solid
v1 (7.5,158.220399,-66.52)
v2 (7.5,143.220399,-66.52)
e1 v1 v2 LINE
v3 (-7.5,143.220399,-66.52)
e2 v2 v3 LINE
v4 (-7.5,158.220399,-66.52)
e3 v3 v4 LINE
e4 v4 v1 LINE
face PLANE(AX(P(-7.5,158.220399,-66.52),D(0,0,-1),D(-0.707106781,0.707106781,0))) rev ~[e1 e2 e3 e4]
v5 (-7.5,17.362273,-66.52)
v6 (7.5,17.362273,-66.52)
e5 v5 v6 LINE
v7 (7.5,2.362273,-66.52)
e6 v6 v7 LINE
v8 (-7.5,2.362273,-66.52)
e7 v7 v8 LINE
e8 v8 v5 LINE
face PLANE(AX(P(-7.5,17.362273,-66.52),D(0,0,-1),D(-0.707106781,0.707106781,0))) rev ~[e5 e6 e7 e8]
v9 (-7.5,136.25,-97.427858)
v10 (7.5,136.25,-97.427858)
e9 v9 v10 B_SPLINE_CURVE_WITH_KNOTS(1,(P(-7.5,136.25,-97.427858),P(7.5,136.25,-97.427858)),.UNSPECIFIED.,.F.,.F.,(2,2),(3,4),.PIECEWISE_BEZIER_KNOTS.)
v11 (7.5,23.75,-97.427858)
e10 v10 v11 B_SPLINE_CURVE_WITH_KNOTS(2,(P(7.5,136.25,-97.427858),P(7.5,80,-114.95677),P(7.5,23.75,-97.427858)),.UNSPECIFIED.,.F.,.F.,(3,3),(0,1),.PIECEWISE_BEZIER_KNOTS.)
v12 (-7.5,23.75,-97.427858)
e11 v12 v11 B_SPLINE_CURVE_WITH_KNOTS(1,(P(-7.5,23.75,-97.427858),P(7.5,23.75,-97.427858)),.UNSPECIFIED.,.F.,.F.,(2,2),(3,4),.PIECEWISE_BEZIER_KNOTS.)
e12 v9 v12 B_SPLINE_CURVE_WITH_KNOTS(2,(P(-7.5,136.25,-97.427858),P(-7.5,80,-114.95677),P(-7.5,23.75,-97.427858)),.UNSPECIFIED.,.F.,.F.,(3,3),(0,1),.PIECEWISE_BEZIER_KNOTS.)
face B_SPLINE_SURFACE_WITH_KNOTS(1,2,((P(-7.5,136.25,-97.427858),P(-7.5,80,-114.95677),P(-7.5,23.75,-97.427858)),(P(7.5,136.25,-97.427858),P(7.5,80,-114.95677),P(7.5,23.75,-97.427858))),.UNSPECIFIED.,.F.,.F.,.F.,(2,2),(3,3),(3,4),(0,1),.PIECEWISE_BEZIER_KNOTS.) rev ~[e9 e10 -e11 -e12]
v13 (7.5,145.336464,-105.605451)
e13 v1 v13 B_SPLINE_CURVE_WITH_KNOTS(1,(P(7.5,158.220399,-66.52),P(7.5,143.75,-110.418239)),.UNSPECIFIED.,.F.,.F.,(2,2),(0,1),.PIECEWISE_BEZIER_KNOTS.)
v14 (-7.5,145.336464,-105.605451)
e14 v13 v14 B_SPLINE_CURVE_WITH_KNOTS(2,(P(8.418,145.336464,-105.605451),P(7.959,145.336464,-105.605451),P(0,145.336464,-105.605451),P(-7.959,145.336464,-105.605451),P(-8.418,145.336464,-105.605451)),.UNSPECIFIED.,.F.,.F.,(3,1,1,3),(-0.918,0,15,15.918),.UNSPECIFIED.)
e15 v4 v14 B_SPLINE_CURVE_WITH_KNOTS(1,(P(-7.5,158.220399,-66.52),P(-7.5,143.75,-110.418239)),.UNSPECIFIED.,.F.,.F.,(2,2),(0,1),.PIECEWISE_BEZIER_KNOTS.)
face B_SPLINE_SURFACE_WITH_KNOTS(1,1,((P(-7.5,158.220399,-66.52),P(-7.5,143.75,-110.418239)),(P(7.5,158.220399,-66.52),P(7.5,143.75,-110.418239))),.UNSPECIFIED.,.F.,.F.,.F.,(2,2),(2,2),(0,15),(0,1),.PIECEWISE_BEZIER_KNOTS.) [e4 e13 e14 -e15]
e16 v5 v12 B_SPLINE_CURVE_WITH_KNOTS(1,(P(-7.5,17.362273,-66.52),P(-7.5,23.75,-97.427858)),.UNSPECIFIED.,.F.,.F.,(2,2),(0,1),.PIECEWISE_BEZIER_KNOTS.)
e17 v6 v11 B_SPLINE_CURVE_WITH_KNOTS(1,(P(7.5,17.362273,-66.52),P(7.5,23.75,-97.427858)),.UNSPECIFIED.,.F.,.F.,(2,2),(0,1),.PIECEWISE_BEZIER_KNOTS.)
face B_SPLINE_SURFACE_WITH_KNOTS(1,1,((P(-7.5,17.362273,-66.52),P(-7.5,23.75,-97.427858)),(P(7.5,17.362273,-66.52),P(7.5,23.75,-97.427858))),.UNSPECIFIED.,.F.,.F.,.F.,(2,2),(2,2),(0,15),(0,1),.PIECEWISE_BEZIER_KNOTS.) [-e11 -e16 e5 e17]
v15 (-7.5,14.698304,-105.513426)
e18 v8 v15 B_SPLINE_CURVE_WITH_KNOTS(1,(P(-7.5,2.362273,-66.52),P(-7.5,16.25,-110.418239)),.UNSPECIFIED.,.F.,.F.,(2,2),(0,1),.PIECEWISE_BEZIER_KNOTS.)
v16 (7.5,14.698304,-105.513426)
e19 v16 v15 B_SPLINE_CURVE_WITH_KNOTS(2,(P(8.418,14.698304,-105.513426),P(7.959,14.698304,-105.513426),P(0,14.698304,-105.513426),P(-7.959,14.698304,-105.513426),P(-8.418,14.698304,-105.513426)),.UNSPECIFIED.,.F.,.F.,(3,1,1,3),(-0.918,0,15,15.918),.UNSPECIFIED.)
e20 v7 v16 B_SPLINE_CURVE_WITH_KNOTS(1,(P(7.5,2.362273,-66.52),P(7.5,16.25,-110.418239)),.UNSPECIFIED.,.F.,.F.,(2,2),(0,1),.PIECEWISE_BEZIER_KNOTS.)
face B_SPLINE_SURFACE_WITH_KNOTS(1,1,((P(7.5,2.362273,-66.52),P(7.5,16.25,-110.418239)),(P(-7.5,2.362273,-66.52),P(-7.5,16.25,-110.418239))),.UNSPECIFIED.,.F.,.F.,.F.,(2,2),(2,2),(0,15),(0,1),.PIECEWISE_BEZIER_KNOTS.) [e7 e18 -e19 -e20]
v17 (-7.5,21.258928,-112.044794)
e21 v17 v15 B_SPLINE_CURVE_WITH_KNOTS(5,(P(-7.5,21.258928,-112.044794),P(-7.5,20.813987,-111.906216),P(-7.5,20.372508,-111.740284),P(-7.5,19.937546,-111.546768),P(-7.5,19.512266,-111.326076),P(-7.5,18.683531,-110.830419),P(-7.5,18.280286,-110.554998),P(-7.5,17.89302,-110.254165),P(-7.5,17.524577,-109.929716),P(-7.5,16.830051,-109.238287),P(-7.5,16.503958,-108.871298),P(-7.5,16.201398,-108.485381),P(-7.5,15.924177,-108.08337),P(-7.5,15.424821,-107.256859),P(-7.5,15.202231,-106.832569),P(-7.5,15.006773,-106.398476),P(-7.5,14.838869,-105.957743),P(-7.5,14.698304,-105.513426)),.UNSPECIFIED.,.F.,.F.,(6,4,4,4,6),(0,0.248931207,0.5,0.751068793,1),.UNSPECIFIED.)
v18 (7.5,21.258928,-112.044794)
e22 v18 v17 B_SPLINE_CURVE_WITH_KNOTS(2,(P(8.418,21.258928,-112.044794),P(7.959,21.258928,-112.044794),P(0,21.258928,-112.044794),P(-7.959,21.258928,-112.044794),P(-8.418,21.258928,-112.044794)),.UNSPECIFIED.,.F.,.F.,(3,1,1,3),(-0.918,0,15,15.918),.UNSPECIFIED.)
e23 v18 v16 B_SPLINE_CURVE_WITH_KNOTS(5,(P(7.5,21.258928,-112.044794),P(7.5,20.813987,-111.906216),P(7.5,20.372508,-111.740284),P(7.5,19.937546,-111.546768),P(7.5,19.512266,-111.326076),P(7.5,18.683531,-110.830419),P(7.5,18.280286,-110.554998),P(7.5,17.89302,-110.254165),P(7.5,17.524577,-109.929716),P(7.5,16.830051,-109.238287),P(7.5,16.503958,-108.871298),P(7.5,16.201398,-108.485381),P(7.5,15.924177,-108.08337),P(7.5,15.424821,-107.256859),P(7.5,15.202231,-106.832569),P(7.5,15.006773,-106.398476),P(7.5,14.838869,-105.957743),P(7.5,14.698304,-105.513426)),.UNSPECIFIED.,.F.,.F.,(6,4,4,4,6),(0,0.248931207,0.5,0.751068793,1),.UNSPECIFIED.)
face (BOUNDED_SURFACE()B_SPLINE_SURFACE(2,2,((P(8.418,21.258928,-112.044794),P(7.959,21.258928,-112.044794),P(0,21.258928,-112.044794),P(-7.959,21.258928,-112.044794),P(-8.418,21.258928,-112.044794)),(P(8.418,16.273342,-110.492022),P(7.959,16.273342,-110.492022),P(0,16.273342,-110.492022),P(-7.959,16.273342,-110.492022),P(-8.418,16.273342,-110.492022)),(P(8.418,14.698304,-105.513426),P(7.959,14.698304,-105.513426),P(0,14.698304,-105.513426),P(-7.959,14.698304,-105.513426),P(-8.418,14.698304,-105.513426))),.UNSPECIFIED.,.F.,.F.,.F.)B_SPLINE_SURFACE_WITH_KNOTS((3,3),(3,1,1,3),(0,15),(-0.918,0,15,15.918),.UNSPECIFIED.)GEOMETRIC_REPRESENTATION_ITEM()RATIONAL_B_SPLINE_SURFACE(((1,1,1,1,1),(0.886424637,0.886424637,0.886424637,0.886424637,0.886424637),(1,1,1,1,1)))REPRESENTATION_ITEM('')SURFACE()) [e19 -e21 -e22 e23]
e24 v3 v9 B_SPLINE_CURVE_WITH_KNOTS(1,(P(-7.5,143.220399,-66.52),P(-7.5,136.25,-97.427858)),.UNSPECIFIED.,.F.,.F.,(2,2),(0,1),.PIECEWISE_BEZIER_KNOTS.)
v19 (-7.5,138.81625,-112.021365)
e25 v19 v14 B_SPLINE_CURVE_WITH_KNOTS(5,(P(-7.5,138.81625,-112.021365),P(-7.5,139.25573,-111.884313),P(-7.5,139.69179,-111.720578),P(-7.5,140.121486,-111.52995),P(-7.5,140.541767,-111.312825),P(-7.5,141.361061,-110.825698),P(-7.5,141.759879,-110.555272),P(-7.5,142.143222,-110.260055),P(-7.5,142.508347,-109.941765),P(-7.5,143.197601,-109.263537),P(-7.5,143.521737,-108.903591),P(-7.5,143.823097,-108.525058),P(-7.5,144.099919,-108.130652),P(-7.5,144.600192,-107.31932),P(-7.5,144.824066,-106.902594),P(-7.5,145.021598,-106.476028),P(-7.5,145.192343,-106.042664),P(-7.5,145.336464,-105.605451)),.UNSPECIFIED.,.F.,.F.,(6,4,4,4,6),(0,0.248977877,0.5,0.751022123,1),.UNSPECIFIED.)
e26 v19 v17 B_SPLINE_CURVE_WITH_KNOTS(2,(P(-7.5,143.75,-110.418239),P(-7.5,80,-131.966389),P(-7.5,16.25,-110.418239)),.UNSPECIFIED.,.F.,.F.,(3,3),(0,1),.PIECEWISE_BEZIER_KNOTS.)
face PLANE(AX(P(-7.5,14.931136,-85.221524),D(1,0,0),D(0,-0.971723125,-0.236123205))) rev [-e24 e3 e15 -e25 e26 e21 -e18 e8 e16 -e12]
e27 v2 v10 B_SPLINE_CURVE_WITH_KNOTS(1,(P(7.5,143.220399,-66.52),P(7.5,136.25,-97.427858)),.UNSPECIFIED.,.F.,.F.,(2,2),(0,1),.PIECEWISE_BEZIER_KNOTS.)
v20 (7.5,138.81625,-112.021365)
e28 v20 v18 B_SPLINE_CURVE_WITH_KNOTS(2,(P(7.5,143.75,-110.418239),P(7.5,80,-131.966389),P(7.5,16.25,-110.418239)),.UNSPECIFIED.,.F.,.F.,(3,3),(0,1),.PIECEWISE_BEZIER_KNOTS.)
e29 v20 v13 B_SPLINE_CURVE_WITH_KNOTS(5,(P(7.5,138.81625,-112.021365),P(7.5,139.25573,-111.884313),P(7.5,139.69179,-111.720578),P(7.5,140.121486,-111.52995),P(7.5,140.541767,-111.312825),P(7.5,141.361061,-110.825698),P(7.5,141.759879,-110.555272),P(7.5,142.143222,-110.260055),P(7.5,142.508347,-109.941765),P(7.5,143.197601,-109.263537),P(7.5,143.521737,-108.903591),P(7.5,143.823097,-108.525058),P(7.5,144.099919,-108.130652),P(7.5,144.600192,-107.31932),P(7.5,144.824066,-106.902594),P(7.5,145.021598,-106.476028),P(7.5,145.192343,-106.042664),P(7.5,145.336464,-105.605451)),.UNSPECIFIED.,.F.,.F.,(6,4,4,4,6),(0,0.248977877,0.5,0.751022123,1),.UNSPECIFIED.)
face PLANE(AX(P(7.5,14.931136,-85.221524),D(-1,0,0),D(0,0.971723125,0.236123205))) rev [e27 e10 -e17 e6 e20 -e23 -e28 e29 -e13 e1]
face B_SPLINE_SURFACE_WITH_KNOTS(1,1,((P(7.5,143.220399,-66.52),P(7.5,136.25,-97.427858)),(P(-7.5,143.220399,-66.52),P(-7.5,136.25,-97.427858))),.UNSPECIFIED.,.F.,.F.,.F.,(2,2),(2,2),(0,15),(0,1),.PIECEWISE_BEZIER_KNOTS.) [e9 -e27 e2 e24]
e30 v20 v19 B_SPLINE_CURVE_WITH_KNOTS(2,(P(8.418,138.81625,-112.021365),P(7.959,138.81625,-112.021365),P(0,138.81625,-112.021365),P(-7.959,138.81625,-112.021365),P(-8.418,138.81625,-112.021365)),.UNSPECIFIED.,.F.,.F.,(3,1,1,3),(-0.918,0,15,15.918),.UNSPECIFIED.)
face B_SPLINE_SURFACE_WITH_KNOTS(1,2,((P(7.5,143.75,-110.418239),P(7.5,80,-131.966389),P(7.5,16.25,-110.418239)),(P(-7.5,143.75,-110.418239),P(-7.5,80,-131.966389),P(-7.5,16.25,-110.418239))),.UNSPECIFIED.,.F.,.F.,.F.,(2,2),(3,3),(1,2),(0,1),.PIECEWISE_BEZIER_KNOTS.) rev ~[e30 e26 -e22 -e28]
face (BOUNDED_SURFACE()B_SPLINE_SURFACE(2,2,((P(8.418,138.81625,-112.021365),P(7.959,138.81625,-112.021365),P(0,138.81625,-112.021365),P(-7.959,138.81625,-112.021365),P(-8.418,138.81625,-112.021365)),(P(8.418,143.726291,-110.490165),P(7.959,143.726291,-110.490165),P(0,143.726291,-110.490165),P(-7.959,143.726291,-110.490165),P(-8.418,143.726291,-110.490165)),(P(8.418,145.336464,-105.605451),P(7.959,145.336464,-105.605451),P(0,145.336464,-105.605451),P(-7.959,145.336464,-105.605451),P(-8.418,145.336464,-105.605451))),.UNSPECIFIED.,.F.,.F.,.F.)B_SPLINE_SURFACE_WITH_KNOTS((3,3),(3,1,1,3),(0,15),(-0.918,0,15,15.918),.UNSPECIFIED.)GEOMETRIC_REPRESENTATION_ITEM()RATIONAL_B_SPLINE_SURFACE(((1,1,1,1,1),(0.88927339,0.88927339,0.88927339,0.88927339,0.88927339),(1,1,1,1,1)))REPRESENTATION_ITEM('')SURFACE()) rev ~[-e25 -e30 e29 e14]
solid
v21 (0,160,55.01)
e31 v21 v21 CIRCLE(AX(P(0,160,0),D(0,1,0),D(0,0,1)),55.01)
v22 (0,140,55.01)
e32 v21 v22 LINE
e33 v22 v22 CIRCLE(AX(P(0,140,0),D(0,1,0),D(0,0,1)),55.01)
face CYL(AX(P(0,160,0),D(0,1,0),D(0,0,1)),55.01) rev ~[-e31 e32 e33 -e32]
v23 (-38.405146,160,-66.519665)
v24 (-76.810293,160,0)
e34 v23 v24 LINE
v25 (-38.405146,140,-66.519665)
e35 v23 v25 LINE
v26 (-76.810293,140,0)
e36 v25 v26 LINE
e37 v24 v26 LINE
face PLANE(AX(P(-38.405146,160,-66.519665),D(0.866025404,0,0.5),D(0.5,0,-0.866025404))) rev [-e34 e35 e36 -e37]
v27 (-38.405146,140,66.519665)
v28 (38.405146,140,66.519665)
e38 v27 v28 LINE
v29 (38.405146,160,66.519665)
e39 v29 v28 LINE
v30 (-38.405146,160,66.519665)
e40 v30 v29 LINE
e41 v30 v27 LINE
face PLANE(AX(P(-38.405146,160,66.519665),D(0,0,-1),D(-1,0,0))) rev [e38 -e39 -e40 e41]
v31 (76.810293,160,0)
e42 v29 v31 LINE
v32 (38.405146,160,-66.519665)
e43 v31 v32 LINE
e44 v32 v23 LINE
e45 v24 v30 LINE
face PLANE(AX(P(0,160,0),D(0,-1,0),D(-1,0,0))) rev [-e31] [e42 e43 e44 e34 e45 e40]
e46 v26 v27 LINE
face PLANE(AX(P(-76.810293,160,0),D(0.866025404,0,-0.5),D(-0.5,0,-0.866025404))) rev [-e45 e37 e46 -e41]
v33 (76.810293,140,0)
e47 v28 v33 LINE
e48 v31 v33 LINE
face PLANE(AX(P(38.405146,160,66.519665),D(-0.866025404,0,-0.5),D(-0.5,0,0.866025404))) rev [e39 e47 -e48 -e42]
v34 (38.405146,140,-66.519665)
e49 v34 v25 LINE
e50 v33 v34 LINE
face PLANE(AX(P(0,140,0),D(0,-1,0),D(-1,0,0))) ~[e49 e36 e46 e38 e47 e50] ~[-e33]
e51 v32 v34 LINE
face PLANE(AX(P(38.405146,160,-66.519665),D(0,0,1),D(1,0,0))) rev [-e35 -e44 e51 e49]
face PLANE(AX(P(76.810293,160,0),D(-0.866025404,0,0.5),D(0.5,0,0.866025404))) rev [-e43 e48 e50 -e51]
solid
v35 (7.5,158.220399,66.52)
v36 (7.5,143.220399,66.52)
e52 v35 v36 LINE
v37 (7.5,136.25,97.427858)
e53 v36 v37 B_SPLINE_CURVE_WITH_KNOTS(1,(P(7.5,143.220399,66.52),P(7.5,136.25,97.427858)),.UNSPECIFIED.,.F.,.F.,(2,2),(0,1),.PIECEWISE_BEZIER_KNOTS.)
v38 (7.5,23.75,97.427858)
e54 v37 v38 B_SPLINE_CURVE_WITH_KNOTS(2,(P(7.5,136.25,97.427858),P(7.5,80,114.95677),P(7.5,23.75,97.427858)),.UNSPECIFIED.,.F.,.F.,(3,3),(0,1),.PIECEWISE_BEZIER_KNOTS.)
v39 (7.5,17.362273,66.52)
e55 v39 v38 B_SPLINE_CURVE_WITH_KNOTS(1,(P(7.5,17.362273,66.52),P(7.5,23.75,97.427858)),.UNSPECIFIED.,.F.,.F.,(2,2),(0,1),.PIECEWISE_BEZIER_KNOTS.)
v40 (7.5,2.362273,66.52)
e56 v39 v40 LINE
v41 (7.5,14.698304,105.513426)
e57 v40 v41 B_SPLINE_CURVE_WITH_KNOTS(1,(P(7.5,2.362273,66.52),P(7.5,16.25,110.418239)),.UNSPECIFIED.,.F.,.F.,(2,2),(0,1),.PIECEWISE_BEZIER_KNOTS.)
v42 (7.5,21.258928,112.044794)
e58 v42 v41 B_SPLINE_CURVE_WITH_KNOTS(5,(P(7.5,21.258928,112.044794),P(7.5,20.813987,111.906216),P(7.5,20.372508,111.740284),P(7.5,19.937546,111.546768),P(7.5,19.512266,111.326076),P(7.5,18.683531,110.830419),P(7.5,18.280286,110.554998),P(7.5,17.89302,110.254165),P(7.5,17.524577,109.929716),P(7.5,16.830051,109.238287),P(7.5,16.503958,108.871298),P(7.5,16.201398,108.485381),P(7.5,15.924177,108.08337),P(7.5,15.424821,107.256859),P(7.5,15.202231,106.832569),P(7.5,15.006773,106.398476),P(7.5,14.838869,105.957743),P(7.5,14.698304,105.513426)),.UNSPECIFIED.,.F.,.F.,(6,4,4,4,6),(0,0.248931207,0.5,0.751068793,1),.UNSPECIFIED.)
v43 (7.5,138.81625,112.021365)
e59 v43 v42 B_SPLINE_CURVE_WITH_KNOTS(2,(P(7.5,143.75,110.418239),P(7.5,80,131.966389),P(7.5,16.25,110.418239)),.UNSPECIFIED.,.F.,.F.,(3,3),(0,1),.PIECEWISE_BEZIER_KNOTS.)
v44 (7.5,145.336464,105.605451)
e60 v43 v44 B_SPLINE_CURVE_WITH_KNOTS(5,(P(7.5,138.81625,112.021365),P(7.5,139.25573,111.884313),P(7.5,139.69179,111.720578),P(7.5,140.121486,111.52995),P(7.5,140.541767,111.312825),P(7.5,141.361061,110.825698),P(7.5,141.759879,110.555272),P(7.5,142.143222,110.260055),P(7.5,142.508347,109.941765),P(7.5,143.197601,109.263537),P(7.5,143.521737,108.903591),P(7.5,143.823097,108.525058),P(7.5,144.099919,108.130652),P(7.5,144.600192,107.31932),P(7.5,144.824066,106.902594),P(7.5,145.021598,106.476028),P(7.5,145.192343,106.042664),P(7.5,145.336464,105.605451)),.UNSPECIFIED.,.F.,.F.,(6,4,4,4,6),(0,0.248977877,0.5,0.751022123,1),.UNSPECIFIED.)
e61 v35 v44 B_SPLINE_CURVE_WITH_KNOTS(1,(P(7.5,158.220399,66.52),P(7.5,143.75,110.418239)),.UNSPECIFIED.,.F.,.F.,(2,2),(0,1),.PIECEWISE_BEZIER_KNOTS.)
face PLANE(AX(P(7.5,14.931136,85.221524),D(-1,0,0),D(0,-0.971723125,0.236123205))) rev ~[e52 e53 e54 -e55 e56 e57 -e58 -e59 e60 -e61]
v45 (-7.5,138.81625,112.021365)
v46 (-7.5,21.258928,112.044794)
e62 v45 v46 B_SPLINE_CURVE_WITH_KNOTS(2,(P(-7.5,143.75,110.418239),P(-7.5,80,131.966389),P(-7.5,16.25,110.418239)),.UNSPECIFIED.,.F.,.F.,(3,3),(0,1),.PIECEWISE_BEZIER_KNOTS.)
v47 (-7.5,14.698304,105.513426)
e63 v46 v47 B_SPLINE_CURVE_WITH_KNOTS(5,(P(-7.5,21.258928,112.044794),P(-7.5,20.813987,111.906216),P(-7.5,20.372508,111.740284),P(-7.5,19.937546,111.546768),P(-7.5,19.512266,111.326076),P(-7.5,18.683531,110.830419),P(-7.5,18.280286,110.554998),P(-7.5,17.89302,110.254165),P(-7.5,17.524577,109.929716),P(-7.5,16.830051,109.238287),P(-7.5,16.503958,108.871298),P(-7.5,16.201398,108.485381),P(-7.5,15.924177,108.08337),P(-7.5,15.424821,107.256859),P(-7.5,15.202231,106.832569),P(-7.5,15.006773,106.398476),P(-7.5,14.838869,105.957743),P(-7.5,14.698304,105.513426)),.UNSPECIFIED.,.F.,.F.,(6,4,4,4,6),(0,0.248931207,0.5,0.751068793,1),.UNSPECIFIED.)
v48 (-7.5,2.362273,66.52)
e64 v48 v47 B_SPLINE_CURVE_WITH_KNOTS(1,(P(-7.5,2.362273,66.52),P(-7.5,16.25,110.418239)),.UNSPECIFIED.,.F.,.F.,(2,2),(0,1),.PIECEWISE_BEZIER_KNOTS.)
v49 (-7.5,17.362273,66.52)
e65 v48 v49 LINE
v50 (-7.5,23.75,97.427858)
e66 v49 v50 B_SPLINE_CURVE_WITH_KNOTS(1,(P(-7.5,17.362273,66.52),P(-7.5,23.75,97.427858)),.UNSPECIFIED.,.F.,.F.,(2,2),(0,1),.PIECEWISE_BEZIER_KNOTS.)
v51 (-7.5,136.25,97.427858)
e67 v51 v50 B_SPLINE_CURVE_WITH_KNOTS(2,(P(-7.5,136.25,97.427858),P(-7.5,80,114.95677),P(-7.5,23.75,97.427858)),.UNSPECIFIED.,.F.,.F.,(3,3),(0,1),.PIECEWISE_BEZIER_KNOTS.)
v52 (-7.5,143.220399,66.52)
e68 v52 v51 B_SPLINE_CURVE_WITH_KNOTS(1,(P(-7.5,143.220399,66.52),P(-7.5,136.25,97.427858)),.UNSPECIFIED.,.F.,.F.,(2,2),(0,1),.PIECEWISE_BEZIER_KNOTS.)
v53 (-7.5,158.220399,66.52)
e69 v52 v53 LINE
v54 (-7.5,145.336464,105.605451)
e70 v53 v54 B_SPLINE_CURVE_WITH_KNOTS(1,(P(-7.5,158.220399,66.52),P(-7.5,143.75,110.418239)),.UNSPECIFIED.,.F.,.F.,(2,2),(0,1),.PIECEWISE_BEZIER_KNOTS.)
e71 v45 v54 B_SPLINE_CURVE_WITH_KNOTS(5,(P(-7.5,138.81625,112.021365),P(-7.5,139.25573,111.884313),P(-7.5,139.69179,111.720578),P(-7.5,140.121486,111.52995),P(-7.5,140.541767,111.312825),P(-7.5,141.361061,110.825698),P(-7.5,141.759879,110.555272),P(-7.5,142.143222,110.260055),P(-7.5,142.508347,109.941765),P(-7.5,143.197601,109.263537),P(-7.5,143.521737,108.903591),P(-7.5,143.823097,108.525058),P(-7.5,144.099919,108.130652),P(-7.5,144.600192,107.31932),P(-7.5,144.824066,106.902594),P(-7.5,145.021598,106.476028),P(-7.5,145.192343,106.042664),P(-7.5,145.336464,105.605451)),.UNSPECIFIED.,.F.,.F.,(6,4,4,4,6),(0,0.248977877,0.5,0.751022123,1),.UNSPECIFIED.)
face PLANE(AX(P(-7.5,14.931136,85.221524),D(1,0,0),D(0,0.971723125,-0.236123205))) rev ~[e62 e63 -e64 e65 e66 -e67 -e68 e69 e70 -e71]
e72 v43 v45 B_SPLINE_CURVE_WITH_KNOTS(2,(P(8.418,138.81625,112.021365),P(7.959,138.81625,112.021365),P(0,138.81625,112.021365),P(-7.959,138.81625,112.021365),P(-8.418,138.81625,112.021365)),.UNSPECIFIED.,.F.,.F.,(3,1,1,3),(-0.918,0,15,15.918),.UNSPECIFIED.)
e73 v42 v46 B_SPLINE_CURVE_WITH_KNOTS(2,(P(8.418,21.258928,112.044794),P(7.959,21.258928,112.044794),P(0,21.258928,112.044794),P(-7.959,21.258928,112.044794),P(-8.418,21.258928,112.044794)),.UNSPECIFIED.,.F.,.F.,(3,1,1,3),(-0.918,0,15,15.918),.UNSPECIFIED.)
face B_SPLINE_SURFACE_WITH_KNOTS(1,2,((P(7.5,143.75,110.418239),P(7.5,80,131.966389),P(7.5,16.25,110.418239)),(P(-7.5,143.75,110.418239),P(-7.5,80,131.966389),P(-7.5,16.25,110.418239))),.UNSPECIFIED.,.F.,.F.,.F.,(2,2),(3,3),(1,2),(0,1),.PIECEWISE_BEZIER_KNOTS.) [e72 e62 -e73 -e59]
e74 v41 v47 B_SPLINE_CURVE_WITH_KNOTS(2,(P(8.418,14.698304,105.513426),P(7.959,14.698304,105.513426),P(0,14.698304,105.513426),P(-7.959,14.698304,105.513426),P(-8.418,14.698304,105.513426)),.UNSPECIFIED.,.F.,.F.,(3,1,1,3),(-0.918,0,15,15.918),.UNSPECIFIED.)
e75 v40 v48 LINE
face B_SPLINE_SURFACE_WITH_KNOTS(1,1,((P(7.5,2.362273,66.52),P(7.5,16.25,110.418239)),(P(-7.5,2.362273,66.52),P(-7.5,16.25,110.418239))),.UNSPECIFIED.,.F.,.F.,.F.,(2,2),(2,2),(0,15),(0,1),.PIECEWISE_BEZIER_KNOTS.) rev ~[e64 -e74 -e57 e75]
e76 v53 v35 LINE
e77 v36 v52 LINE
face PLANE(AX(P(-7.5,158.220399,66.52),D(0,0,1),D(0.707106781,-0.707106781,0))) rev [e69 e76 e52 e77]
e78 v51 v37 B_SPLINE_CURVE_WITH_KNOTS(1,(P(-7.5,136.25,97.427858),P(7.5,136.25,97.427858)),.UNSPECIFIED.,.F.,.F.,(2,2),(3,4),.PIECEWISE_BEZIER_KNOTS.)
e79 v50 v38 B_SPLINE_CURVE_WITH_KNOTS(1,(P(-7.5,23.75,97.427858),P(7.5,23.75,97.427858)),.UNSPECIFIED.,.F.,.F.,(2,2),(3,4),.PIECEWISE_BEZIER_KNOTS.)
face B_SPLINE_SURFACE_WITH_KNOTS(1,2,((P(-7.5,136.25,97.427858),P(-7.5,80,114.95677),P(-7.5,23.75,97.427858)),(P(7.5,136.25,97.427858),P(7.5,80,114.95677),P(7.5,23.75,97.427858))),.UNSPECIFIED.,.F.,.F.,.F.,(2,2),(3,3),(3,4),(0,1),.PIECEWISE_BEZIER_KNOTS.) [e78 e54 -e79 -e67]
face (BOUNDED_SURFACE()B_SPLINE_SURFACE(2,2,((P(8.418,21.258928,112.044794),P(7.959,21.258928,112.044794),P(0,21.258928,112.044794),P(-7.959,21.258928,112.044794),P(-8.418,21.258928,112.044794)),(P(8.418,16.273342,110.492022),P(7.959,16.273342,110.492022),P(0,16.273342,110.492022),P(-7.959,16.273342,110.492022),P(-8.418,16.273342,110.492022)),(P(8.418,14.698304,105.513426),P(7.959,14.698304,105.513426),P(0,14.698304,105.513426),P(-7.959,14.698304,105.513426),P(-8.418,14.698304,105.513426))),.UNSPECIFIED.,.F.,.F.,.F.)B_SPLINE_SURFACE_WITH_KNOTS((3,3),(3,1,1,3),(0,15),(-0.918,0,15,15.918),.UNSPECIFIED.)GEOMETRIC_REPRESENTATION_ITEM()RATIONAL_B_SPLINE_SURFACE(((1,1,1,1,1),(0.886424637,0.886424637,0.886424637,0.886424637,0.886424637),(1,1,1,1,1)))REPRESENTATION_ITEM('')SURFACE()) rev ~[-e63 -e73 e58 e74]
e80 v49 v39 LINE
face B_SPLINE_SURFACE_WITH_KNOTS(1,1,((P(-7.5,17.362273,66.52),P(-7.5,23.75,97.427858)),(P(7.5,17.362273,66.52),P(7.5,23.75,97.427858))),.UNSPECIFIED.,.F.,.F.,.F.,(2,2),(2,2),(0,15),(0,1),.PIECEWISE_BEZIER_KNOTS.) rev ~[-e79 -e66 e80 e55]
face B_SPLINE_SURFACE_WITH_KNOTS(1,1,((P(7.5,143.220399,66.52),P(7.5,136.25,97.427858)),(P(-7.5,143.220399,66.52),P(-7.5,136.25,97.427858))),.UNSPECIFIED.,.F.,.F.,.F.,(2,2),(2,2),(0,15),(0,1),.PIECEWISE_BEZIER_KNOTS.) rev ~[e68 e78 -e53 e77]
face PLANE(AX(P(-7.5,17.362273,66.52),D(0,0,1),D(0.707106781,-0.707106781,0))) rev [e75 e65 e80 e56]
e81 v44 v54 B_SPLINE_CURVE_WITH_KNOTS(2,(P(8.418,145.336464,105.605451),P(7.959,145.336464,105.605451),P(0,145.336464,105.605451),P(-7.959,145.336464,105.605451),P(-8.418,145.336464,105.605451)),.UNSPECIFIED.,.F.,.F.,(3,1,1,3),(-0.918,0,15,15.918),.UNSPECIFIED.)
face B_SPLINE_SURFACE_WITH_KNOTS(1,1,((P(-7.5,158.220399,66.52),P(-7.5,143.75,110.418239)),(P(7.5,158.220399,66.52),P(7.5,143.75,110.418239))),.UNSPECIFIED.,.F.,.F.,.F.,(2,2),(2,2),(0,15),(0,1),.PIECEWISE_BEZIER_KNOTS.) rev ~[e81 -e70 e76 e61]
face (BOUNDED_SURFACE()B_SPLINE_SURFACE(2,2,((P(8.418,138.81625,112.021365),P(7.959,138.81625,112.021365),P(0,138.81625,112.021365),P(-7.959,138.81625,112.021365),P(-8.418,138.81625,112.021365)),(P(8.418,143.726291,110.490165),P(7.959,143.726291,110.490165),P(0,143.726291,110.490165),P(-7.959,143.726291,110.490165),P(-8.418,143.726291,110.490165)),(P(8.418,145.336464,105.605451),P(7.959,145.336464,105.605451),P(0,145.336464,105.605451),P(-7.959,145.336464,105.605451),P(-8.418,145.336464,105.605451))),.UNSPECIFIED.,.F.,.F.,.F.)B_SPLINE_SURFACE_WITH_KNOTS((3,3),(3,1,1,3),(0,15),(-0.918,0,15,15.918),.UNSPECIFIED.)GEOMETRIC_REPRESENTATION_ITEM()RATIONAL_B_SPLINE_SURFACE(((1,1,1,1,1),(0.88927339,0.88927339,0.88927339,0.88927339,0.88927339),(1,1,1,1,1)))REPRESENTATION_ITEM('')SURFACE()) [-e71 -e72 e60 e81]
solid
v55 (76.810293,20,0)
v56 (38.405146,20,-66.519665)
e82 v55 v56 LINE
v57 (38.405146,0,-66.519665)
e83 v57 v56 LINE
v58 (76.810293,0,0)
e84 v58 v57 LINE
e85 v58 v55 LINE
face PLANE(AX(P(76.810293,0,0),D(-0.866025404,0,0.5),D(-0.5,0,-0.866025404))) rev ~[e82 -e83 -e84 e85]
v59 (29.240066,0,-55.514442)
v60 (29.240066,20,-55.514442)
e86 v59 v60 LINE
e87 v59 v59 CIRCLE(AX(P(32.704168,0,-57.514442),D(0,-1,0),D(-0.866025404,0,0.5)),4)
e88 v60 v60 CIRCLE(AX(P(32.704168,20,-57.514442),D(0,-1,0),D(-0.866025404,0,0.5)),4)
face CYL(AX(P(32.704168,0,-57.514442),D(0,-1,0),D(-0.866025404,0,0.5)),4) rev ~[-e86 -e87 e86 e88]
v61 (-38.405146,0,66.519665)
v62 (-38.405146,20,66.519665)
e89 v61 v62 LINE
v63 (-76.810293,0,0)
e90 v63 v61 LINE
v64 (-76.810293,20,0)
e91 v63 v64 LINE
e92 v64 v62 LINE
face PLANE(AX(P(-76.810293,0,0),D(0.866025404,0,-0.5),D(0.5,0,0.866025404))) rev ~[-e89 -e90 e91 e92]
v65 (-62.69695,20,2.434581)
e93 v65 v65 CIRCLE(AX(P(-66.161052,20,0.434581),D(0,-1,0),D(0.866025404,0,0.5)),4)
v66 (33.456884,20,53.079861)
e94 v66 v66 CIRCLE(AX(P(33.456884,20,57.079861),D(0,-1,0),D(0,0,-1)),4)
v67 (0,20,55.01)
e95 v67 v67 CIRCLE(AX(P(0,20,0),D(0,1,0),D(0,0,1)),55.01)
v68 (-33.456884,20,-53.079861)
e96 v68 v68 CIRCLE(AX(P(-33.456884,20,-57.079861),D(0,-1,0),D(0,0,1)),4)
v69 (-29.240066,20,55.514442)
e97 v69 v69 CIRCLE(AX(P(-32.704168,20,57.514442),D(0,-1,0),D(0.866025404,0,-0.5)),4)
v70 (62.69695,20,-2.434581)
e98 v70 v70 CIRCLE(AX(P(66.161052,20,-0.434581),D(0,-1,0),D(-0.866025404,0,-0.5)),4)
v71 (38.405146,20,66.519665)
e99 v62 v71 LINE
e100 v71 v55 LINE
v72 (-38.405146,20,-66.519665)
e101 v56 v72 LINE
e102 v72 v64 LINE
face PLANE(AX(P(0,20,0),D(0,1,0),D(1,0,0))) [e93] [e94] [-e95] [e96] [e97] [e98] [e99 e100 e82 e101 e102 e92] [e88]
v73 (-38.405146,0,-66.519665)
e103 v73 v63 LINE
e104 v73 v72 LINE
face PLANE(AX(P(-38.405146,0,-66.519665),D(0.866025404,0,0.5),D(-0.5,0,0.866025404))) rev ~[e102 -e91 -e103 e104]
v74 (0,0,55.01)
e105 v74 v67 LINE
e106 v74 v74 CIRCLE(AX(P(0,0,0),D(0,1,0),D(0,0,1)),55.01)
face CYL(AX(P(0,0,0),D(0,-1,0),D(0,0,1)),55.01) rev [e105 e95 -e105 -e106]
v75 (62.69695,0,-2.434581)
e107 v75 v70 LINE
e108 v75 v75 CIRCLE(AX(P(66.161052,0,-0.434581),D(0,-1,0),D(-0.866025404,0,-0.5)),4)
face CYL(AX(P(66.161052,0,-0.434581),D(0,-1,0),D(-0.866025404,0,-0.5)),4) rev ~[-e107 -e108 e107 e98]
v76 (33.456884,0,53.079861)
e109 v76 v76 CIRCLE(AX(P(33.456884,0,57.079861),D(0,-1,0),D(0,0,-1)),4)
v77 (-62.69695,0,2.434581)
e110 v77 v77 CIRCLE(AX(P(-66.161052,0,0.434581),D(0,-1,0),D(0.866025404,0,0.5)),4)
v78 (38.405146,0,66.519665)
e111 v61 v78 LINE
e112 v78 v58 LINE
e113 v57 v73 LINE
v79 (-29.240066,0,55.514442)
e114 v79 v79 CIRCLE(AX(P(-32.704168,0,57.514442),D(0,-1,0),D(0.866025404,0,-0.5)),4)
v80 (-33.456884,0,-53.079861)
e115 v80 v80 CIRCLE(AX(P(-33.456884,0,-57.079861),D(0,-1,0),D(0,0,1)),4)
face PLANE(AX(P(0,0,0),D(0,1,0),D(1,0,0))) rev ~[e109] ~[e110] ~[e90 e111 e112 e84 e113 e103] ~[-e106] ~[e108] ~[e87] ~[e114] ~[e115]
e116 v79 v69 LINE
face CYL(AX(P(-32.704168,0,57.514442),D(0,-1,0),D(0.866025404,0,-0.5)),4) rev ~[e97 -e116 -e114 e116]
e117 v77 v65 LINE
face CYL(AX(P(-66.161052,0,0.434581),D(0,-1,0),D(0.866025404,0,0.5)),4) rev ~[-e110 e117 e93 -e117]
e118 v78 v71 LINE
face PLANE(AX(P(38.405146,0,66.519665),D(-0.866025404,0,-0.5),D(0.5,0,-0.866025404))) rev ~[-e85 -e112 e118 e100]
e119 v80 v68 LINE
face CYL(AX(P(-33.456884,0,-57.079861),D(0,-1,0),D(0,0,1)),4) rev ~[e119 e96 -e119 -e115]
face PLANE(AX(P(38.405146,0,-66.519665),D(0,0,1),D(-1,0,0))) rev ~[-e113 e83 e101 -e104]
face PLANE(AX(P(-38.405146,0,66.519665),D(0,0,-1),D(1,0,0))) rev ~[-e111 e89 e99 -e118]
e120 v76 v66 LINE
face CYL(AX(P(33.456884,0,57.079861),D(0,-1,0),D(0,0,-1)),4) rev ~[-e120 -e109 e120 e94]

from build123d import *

# Parameters (mm, degrees)
SKETCH_1_R               = 55.01
EXTRUDE_1_DEPTH          = 20
FILLET_2_R               = 10
FILLET_3_R               = 10
SKETCH_19_R              = 4
CUT_EXTRUDE_2_DEPTH      = 20
PATTERN_CIRCULAR_2_COUNT = 6


with BuildPart() as part:
    # 草图1 → 凸台-拉伸1 (new body)
    with BuildSketch(Plane(origin=(0, 0, 0), x_dir=(1, 0, 0), z_dir=(0, 1, 0))):
        Polygon((76.810292696, 0), (38.405146348, 66.519664747), (-38.405146348, 66.519664747), (-76.810292696, 0), (-38.405146348, -66.519664747), (38.405146348, -66.519664747), align=None)
        with Locations(Location((0, 0, 0), (0, 0, 270))):
            Circle(SKETCH_1_R, mode=Mode.SUBTRACT)
    extrude(amount=EXTRUDE_1_DEPTH)


with BuildPart() as body_2:
    # 镜向5: mirrored copy
    add(part.part.mirror(Plane.ZX.offset(80)))


with BuildPart() as body_3:
    # 草图9 → 放样1 section 0
    with BuildSketch(Plane(origin=(0, 60, -34.641016151), x_dir=(0, 0.4999999999999954, 0.8660254037844413), z_dir=(0, 0.8660254037844413, -0.4999999999999954))):
        with BuildLine():
            Line((152.5, 7.5), (167.5, 7.5))
            Line((167.5, 7.5), (167.5, -7.5))
            Line((167.5, -7.5), (152.5, -7.5))
            Line((152.5, -7.5), (152.5, 7.5))
        make_face()
    # 草图11 → 放样1 section 1
    with BuildSketch(Plane(origin=(0, 80, 0), x_dir=(1, 0, 0), z_dir=(0, 1, 0))):
        with BuildLine():
            Line((-7.5, -106.192314052), (7.5, -106.192314052))
            Line((7.5, -106.192314052), (7.5, -121.192314052))
            Line((7.5, -121.192314052), (-7.5, -121.192314052))
            Line((-7.5, -121.192314052), (-7.5, -106.192314052))
        make_face()
    # 草图10 → 放样1 section 2
    with BuildSketch(Plane(origin=(0, 60, 34.641016151), x_dir=(0, -0.4999999999999958, 0.8660254037844412), z_dir=(0, 0.866025403784441, 0.4999999999999957))):
        with BuildLine():
            Line((72.5, 7.5), (87.5, 7.5))
            Line((87.5, 7.5), (87.5, -7.5))
            Line((87.5, -7.5), (72.5, -7.5))
            Line((72.5, -7.5), (72.5, 7.5))
        make_face()
    loft()

    # 草图16 → section 0 of loft_3
    with BuildSketch(Plane.XY.offset(66.52), mode=Mode.PRIVATE) as loft_3_s0:
        with BuildLine():
            Line((-7.5, 158.220398546), (7.5, 158.220398546))
            Line((7.5, 158.220398546), (7.5, 143.220398546))
            Line((7.5, 143.220398546), (-7.5, 143.220398546))
            Line((-7.5, 143.220398546), (-7.5, 158.220398546))
        make_face()
    # loft up to a face of the part (loft_3)
    loft([loft_3_s0.sketch, body_3.faces().sort_by_distance((0, 140, 103.923048454))[0]])

    # 草图18 → section 0 of loft_6
    with BuildSketch(Plane.XY.offset(66.52), mode=Mode.PRIVATE) as loft_6_s0:
        with BuildLine():
            Line((-7.5, 17.362272827), (7.5, 17.362272827))
            Line((7.5, 17.362272827), (7.5, 2.362272827))
            Line((7.5, 2.362272827), (-7.5, 2.362272827))
            Line((-7.5, 2.362272827), (-7.5, 17.362272827))
        make_face()
    # loft up to a face of the part (loft_6)
    loft([loft_6_s0.sketch, body_3.faces().sort_by_distance((0, 20, 103.923048454))[0]])

    # 圆角2
    fillet_2_edges = [body_3.edges().sort_by_distance(p)[0] for p in [
        (0, 143.75, 110.418238983),
    ]]
    fillet(fillet_2_edges, radius=FILLET_2_R)

    # 圆角3
    fillet_3_edges = [body_3.edges().sort_by_distance(p)[0] for p in [
        (0, 16.25, 110.418238983),
    ]]
    fillet(fillet_3_edges, radius=FILLET_3_R)


with BuildPart() as body_4:
    # 镜向6: mirrored copy
    add(body_3.part.mirror(Plane.XY))


with BuildPart() as part_1:
    add(part.part)

    # 草图19 → 切除-拉伸2 (cut)
    with BuildSketch(Plane.XZ):
        with Locations(Location((33.456884152, 57.079861104, 0), (0, 0, 270))):
            Circle(SKETCH_19_R)
    cut_extrude_2 = extrude(amount=-CUT_EXTRUDE_2_DEPTH, mode=Mode.SUBTRACT)

    # 阵列(圆周)2: 切除-拉伸2 ×6 about axis
    pattern_circular_2_axis = Axis((0, 0, 0), (0, 1, 0))
    for i in range(1, PATTERN_CIRCULAR_2_COUNT):
        add(cut_extrude_2.rotate(pattern_circular_2_axis, i * 360 / PATTERN_CIRCULAR_2_COUNT), mode=Mode.SUBTRACT)


solid = Compound([body_2.part, body_3.part, body_4.part, part_1.part])
